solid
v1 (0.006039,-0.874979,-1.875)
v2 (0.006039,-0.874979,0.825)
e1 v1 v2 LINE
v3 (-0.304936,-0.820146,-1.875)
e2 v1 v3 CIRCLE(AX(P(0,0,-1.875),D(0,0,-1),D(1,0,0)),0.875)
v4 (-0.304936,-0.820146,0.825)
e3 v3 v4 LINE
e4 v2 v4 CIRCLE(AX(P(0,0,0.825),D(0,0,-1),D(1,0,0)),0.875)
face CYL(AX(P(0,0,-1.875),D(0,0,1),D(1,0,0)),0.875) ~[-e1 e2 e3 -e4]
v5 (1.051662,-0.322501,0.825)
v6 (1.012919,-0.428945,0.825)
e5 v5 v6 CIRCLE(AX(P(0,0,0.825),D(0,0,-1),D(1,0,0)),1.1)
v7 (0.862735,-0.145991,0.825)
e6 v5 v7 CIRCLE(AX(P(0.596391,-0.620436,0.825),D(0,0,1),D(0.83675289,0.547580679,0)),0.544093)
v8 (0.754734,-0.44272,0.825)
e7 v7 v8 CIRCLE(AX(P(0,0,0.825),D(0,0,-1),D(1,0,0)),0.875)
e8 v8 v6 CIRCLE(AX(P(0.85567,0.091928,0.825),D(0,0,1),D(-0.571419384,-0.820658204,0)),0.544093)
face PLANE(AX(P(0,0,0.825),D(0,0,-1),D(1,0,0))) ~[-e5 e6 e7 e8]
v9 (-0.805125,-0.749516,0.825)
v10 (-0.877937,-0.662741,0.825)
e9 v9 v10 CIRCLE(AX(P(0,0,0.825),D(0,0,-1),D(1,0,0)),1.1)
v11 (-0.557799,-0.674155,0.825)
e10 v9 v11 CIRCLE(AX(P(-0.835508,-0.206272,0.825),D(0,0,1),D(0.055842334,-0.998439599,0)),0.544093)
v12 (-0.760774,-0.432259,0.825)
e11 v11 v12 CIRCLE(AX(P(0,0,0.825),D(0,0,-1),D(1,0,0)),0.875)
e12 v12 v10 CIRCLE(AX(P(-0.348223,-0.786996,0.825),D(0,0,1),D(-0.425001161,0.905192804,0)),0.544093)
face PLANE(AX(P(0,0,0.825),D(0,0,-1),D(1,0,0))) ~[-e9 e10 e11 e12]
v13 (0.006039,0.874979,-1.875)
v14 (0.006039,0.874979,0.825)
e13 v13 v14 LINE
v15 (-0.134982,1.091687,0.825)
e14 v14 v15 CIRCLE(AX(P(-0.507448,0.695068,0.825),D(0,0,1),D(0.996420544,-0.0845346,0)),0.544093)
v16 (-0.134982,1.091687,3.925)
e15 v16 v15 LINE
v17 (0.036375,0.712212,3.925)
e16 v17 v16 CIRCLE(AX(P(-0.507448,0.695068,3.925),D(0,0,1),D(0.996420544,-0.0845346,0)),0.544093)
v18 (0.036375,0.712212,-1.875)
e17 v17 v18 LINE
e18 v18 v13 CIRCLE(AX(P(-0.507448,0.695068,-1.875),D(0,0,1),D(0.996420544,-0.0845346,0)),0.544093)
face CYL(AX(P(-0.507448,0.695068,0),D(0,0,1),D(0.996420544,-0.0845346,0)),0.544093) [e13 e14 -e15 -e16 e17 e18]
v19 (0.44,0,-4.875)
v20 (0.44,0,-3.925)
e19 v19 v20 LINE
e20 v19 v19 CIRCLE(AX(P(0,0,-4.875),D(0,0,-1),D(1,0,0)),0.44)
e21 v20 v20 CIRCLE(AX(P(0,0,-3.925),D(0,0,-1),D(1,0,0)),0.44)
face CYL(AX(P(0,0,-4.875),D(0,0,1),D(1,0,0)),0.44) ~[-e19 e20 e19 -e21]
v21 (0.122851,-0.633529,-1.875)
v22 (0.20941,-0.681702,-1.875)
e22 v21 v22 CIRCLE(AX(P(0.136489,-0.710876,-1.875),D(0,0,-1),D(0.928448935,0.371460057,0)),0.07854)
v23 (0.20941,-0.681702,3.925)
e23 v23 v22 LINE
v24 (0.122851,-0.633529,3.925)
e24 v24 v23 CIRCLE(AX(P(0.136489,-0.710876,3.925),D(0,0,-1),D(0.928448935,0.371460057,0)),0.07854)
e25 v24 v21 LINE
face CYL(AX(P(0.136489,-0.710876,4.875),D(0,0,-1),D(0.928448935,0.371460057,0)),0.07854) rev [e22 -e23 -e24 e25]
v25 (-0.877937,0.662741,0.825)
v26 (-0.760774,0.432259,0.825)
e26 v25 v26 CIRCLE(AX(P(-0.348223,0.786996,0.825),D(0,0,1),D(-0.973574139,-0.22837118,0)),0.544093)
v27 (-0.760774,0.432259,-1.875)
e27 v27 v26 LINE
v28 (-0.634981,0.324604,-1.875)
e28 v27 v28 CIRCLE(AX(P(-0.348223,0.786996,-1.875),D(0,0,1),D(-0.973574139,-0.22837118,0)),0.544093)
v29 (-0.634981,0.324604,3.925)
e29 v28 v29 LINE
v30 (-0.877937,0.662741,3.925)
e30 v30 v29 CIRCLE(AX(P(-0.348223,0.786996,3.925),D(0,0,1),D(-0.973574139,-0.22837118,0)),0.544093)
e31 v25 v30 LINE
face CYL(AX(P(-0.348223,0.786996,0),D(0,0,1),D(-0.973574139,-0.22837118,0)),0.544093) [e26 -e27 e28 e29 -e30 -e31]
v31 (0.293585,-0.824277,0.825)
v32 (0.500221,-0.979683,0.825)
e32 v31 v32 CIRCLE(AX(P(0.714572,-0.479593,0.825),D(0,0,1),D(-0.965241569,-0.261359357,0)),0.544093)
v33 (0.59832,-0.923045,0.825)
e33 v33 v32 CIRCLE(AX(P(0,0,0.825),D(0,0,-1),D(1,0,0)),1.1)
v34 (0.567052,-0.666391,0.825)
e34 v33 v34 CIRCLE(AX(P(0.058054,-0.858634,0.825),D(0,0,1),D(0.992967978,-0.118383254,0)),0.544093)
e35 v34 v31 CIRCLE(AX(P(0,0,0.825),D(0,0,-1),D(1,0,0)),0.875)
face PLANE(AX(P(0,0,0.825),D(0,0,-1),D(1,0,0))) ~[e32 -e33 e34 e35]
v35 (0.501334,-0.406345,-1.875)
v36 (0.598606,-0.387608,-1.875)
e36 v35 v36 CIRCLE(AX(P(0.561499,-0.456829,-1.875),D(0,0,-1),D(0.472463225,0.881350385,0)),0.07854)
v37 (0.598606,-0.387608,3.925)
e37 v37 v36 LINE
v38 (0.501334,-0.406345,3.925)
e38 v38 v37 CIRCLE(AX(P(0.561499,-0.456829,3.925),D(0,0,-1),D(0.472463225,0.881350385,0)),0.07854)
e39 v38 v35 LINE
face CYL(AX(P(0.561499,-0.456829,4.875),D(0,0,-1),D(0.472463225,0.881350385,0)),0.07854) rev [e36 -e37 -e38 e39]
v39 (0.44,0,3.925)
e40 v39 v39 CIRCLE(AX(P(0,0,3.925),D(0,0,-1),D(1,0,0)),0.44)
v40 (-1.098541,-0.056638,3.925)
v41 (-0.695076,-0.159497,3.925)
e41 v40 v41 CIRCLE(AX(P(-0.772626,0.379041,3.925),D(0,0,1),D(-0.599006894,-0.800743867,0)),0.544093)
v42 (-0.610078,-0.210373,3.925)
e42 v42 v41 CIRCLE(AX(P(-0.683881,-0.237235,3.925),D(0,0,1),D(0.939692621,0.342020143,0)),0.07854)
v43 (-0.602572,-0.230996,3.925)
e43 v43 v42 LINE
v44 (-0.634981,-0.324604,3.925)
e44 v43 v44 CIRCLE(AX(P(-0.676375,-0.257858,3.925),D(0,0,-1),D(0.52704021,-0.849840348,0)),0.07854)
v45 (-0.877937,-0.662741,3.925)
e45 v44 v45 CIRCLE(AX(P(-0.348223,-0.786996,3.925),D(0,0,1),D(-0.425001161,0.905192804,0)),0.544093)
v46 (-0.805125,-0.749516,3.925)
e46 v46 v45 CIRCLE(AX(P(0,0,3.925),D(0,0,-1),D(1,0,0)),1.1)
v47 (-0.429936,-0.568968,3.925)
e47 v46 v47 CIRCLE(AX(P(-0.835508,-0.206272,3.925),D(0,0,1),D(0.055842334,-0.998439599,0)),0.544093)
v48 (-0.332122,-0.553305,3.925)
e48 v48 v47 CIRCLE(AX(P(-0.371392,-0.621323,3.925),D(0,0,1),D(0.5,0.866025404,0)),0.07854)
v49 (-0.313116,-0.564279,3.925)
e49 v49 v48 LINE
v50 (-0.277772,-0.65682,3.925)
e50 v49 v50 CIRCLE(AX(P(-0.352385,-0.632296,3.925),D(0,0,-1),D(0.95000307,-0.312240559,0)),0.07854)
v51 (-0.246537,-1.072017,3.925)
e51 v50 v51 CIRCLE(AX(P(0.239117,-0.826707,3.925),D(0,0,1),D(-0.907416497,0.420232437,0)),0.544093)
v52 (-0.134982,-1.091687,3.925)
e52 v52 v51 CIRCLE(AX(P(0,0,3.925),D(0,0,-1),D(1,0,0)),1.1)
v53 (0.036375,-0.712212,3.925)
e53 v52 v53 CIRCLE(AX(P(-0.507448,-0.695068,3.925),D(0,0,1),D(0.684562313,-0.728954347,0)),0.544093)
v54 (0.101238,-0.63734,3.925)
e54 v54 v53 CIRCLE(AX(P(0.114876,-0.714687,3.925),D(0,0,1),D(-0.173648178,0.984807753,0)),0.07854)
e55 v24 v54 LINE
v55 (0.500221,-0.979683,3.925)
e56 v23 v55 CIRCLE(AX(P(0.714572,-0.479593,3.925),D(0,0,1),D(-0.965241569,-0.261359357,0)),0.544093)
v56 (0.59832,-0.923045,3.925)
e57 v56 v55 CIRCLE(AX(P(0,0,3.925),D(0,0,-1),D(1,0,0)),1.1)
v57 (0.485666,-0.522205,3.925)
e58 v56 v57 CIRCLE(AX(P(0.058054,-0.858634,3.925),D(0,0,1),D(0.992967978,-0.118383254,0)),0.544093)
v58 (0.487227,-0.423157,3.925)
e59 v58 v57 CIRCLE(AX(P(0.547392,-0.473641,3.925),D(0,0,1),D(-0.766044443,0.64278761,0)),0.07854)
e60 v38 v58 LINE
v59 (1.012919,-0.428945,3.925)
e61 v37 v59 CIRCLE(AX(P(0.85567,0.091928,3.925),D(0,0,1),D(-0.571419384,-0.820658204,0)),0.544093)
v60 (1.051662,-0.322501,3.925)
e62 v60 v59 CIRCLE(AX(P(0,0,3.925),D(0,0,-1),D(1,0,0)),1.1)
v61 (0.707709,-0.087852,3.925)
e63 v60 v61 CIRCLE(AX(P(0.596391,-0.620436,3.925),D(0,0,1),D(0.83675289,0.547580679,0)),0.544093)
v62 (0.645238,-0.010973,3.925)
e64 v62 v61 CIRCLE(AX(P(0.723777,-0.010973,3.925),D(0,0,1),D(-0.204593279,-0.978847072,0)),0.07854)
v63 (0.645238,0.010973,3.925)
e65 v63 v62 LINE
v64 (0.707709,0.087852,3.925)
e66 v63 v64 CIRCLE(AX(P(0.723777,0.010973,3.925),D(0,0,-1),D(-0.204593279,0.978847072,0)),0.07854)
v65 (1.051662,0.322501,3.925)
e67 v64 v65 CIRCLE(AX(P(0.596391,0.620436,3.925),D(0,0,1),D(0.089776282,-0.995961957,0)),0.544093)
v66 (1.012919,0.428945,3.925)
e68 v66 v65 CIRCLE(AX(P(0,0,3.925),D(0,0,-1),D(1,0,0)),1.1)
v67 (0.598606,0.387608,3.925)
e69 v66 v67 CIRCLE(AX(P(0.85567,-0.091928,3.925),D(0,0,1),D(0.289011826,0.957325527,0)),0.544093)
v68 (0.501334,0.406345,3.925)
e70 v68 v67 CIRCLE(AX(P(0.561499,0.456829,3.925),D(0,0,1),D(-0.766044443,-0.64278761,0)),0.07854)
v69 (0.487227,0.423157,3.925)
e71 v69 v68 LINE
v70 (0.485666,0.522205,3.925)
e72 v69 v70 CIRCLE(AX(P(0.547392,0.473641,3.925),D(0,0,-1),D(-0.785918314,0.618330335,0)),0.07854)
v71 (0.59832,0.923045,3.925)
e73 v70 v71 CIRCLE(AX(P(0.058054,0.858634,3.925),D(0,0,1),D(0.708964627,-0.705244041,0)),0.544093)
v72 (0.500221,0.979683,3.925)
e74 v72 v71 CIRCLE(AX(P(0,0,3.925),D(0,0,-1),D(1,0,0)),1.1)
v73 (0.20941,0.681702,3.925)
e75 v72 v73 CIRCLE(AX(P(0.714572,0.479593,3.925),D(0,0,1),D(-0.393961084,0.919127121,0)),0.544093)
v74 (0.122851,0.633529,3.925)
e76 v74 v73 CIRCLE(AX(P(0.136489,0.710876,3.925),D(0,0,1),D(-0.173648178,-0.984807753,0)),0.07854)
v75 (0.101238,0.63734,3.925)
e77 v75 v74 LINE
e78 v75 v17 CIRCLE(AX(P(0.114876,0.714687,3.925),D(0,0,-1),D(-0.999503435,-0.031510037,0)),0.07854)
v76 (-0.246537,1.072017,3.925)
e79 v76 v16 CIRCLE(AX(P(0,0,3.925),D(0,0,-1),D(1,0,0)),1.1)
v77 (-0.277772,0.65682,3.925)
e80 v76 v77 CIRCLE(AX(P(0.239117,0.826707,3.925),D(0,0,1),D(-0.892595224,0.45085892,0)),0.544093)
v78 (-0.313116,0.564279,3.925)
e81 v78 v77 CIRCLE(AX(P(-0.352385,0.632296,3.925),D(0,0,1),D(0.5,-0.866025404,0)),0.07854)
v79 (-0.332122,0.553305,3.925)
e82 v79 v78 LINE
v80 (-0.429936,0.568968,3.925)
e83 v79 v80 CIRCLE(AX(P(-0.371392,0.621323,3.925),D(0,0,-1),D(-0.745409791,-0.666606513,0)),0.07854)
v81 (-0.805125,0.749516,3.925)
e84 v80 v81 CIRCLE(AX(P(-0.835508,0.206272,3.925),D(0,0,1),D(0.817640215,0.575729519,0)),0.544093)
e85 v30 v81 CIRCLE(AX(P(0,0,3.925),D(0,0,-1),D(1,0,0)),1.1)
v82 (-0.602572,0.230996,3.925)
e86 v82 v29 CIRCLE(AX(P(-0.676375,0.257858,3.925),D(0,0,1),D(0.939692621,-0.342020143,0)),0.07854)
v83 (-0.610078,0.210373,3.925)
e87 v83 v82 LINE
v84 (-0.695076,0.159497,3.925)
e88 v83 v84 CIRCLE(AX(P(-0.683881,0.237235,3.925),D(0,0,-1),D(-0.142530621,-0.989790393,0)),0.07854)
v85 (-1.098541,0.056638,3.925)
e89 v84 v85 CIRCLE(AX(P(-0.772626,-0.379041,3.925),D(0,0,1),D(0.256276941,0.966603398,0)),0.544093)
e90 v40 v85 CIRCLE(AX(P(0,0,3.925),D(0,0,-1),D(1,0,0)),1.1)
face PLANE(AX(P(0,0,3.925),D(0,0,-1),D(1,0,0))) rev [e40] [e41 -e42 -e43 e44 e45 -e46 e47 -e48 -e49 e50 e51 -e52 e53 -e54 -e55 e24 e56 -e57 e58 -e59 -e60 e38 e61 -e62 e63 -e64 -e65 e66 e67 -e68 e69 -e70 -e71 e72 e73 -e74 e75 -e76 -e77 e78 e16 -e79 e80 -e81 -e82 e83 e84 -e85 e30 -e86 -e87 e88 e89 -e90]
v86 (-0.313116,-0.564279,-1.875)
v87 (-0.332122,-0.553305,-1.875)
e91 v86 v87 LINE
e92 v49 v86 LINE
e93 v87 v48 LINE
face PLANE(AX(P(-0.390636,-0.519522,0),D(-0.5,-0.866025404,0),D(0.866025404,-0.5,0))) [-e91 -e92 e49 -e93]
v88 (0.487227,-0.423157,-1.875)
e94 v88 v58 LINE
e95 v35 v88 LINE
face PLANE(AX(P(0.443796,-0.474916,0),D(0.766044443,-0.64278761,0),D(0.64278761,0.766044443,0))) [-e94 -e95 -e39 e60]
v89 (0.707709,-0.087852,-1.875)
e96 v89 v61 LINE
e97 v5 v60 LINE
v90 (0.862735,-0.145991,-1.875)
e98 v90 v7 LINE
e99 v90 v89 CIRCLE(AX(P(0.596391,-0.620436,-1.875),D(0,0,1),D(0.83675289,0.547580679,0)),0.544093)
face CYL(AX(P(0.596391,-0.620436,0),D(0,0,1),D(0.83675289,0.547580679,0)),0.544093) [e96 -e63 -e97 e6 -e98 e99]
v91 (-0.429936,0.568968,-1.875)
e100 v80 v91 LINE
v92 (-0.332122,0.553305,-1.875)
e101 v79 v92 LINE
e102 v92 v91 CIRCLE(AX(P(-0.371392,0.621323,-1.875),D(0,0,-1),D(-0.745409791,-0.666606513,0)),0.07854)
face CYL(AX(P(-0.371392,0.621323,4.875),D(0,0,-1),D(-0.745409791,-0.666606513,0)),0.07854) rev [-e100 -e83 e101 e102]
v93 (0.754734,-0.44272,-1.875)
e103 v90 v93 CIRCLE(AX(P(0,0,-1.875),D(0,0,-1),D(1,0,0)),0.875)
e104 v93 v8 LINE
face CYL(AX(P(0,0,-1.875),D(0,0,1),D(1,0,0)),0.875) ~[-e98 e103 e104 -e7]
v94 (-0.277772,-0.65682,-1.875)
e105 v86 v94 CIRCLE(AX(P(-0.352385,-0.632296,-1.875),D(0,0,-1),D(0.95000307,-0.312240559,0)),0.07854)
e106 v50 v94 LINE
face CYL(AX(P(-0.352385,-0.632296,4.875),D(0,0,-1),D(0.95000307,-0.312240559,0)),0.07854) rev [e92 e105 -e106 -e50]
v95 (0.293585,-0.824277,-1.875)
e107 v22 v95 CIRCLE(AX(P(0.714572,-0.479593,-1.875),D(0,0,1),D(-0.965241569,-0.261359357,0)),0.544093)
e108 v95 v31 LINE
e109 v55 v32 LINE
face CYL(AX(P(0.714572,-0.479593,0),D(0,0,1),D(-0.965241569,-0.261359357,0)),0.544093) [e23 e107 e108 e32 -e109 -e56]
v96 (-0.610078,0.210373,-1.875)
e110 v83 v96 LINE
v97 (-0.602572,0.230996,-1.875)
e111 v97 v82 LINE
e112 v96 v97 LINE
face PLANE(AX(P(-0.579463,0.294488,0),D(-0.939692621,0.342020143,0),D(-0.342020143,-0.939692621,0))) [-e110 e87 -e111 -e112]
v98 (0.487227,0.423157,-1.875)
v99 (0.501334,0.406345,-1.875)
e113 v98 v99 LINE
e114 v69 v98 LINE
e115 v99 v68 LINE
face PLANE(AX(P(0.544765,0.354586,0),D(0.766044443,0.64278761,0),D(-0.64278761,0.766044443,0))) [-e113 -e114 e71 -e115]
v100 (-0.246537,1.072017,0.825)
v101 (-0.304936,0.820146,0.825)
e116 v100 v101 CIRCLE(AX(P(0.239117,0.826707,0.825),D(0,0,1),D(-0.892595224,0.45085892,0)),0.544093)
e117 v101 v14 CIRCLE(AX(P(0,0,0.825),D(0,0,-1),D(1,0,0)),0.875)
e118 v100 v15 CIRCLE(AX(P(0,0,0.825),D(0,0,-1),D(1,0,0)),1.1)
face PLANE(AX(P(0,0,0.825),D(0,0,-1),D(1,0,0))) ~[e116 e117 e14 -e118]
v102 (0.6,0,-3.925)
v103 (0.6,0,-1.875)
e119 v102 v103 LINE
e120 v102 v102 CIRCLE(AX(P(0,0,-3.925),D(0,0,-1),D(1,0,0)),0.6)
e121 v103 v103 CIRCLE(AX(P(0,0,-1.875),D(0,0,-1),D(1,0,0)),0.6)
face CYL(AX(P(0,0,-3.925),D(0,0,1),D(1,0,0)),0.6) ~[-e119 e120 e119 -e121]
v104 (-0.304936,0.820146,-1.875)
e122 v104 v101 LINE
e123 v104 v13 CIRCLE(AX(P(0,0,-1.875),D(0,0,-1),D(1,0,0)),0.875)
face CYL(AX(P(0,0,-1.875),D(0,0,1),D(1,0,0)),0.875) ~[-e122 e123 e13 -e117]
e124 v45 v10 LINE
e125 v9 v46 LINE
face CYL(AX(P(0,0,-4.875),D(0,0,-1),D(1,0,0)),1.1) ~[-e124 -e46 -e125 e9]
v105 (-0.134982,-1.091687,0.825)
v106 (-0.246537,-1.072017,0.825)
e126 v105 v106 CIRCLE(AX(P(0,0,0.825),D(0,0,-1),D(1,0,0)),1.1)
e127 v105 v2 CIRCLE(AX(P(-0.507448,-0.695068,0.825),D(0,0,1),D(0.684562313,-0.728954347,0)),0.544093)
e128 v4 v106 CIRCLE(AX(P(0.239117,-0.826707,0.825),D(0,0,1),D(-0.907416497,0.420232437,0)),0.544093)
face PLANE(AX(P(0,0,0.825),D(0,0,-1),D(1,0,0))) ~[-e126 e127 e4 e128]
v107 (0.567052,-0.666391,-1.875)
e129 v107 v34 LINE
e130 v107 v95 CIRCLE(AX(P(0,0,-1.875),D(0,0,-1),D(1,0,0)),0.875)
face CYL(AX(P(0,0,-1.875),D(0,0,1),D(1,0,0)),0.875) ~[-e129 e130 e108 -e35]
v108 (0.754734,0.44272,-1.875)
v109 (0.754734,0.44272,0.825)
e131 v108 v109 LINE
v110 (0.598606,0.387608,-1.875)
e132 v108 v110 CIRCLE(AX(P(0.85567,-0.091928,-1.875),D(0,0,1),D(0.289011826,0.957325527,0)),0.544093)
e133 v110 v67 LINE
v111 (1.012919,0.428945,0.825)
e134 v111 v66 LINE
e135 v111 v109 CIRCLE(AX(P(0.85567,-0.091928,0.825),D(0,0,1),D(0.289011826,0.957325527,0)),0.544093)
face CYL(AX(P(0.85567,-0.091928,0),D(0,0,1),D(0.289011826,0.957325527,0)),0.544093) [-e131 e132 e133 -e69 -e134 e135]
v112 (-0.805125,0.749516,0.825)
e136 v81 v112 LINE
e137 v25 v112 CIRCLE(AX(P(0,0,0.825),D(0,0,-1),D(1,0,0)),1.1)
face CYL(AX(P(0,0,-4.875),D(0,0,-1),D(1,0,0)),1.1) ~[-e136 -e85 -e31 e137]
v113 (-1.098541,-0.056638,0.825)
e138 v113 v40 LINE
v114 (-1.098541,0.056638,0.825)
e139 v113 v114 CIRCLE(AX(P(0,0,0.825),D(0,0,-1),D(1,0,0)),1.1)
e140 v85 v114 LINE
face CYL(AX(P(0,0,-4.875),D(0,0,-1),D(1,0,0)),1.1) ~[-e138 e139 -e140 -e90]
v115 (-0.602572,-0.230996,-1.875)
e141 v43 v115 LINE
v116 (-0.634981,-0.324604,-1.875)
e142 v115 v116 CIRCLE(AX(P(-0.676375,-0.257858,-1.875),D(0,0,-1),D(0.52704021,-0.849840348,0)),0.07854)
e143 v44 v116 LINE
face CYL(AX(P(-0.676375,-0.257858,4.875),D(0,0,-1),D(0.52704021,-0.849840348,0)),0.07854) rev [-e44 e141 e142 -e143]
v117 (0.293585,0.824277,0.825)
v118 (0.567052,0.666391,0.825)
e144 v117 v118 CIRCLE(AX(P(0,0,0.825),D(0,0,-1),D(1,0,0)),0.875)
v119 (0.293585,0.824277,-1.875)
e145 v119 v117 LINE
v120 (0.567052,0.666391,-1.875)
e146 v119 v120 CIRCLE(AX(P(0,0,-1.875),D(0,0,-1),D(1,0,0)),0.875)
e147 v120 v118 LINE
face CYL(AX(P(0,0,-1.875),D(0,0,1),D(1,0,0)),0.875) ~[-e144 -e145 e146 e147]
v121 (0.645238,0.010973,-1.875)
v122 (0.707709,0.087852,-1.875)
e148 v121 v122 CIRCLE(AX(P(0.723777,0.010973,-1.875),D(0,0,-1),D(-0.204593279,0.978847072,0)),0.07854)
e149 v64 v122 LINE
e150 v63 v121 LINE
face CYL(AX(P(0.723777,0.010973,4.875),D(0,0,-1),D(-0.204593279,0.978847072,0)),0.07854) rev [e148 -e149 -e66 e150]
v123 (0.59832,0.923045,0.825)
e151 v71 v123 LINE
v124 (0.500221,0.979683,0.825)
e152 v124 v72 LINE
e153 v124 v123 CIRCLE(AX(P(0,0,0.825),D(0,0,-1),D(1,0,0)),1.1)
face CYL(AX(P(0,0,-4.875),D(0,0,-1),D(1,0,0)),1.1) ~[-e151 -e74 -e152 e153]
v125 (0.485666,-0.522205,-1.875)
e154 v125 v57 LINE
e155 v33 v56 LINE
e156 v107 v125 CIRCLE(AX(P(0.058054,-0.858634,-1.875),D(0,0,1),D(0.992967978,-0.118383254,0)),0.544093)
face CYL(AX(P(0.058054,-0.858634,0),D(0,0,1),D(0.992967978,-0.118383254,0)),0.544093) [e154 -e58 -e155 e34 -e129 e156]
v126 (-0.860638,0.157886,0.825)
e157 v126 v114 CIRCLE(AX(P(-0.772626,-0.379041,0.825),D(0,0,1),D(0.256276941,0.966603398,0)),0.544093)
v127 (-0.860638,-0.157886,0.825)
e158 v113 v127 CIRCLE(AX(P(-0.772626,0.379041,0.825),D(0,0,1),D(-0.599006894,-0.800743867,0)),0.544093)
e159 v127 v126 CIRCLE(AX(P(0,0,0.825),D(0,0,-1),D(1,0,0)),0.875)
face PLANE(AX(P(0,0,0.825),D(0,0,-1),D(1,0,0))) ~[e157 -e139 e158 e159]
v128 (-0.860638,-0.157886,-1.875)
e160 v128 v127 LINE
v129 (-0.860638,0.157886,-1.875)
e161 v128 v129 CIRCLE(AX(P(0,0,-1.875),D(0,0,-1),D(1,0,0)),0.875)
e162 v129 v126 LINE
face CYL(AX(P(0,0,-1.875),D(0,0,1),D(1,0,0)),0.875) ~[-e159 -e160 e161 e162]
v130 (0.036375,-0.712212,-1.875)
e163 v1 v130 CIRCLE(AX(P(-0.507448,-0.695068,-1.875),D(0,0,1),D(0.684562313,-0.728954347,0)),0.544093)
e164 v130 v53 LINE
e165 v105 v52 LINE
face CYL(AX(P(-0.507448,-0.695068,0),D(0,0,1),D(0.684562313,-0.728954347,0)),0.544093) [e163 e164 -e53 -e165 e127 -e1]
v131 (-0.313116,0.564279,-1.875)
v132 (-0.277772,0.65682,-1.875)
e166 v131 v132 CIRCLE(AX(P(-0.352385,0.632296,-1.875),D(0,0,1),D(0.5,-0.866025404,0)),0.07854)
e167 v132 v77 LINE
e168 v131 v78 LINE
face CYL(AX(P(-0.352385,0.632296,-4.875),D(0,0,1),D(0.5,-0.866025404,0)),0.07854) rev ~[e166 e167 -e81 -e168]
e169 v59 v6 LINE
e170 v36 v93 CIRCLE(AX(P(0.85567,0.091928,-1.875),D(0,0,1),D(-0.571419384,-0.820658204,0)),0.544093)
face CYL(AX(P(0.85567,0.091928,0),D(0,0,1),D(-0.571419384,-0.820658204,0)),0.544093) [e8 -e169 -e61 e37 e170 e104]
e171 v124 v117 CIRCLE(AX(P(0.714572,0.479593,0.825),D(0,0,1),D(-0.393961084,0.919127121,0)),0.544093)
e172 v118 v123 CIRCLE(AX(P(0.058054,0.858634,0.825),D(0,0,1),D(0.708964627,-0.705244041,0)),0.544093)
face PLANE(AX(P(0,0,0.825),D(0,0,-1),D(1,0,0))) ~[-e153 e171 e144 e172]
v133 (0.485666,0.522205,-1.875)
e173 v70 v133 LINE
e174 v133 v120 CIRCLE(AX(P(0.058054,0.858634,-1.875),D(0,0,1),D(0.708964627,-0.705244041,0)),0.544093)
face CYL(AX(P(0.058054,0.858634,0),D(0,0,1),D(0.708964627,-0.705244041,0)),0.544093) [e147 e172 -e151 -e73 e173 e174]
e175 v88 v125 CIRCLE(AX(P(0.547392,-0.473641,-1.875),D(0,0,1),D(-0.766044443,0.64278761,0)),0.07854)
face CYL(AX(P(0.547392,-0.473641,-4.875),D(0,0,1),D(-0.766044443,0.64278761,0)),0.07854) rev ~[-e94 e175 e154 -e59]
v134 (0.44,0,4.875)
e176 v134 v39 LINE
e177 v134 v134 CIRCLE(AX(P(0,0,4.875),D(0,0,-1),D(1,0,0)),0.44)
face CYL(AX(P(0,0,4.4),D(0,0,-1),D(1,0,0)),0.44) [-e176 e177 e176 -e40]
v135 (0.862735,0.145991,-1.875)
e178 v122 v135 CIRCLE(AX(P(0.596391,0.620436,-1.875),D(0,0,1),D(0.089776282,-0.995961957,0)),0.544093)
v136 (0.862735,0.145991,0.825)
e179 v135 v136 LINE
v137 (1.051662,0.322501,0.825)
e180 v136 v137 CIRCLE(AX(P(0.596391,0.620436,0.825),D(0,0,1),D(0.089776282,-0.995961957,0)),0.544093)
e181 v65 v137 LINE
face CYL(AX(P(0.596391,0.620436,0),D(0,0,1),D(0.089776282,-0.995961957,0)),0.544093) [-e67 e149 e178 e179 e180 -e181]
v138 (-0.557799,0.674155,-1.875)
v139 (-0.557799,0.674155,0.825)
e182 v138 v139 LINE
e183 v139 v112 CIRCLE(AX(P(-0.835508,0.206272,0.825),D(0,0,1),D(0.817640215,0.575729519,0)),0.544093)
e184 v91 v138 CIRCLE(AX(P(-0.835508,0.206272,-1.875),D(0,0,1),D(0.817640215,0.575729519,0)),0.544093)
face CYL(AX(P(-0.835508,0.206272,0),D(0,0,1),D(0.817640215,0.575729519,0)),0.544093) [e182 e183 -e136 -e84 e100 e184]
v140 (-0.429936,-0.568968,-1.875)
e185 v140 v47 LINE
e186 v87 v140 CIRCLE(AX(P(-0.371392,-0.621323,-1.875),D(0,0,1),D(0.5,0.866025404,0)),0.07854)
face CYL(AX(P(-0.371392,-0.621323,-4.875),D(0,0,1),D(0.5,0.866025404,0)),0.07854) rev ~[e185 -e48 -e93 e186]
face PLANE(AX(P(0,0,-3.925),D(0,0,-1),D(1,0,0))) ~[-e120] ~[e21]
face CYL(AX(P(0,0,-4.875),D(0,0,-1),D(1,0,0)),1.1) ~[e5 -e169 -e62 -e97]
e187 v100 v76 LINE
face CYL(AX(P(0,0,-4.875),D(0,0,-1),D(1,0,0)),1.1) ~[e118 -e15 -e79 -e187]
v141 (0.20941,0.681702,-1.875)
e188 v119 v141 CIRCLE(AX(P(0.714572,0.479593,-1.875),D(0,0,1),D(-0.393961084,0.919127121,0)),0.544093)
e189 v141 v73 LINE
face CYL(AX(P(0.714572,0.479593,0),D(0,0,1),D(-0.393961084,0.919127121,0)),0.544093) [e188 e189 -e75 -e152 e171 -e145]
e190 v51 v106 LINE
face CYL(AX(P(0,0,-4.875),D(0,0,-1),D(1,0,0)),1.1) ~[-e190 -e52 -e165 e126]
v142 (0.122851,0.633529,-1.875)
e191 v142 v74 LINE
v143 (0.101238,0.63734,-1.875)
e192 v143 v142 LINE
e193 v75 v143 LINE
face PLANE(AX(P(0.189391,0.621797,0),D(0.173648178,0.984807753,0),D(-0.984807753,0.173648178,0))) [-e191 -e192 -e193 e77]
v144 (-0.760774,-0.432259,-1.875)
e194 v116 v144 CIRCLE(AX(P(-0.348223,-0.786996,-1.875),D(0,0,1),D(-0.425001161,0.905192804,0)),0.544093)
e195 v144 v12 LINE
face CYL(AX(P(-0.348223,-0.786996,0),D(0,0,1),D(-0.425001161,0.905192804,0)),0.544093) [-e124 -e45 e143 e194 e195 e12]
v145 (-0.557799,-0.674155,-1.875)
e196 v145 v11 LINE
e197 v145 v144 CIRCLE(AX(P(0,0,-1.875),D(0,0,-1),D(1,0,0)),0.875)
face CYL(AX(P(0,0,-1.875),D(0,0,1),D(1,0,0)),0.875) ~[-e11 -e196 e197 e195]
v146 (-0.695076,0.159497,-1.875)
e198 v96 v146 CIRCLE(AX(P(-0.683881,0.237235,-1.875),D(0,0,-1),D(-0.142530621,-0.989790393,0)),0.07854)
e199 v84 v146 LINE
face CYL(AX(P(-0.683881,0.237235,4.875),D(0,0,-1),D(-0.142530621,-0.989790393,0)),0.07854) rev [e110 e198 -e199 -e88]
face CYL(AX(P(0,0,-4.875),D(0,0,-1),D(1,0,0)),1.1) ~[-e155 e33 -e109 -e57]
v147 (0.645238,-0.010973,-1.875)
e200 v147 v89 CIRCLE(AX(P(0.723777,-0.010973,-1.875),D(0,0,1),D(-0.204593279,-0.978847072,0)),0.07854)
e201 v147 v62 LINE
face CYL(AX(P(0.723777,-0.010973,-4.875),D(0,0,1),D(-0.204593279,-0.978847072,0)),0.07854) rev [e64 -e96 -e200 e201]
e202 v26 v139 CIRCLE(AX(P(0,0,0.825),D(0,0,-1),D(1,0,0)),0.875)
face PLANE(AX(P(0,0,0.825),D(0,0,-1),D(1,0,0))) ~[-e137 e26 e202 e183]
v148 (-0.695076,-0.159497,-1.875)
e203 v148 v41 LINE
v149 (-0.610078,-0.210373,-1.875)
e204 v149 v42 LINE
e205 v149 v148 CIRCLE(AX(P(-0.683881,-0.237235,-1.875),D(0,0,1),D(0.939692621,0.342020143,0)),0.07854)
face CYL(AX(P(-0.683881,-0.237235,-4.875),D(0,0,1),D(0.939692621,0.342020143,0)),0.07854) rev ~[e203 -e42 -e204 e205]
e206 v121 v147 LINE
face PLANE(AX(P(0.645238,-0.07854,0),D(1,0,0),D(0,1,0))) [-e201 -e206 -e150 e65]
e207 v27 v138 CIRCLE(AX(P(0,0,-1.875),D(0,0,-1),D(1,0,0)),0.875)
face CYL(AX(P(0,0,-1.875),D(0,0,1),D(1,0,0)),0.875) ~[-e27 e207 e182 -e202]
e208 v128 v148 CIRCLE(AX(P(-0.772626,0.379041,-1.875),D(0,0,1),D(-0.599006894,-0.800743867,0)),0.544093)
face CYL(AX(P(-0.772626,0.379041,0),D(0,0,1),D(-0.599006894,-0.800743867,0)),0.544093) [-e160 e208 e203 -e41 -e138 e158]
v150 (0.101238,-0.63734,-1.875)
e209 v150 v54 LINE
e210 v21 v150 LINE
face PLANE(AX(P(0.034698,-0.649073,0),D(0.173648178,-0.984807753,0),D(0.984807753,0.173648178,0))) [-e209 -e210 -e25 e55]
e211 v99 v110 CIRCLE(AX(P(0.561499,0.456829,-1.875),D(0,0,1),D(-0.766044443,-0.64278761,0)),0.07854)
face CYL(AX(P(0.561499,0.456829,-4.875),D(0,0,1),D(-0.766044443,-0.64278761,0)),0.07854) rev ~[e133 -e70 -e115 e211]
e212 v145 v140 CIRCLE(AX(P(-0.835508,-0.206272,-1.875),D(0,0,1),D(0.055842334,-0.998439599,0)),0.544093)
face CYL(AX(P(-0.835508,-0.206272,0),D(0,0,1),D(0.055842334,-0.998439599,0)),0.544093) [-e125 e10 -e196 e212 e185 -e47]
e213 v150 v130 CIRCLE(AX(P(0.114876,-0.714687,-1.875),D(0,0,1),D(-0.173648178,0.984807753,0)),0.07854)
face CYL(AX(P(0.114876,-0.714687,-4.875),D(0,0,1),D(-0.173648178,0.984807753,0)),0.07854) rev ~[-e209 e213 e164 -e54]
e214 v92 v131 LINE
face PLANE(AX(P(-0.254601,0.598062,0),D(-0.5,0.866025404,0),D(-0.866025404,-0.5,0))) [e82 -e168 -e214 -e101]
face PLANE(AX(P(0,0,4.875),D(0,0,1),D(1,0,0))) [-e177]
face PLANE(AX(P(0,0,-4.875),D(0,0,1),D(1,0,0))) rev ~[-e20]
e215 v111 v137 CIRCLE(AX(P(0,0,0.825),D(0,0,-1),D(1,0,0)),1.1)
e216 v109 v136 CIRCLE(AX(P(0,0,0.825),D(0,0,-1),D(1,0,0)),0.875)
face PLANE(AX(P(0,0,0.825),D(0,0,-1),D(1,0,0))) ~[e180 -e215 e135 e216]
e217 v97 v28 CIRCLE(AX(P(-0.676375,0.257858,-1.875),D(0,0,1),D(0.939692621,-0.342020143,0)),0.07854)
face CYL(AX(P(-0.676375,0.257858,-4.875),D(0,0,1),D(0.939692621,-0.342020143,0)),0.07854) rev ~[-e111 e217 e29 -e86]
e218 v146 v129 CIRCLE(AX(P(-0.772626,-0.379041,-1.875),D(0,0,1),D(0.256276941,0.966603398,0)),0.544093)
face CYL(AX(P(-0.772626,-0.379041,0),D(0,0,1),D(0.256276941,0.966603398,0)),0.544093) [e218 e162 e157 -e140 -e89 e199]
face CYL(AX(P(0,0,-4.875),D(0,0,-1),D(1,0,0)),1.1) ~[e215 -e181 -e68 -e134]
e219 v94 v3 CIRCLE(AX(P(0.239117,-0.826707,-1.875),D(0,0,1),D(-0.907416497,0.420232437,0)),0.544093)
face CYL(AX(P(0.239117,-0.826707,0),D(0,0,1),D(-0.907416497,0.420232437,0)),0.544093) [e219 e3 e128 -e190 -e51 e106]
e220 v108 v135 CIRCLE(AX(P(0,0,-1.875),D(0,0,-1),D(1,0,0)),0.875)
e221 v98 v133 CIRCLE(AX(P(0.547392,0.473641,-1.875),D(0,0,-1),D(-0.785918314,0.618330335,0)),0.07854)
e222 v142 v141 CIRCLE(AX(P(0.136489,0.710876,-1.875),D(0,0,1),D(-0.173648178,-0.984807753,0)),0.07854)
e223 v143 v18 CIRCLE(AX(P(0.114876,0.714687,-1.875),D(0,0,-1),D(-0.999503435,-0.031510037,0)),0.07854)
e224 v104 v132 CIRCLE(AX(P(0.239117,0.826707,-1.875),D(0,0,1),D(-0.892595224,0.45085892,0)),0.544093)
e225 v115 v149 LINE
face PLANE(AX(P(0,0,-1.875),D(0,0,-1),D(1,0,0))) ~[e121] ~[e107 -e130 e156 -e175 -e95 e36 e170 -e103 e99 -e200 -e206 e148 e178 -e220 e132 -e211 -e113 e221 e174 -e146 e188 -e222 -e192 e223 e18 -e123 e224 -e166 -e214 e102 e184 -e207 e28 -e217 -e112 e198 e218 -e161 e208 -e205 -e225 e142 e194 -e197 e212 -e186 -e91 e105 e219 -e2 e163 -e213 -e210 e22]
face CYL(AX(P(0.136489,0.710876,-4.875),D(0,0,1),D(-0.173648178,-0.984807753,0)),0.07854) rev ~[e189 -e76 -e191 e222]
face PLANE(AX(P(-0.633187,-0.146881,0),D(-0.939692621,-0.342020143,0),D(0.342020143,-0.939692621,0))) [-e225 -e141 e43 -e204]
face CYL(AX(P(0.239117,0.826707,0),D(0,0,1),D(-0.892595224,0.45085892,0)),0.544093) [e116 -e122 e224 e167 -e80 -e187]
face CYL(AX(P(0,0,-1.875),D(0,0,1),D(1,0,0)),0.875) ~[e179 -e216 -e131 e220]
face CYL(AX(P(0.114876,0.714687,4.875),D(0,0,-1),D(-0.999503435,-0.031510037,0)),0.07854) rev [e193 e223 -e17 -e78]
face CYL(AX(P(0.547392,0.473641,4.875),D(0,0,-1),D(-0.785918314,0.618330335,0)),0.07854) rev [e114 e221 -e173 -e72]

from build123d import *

# Parameters (mm, degrees)
BOSS_EXTRUDE1_DEPTH      = 4.875
BOSS_EXTRUDE1_DEPTH_BACK = 4.875
SKETCH3_R                = 1.1
CUT_EXTRUDE1_DEPTH       = 6.11718917
FILLET1_R                = 0.078539816
CIRPATTERN1_COUNT        = 9
FILLET1_OF_CIRPATTERN1_R = 0.078539816
SKETCH5_W                = 0.95
SKETCH5_H                = 0.86


with BuildPart() as part:
    # Sketch3 → Boss-Extrude1 (new, two sides: drawn at the far end of the back side and taken through both)
    with BuildSketch(Plane.XY.offset(-BOSS_EXTRUDE1_DEPTH_BACK)):
        Circle(SKETCH3_R)
    extrude(amount=BOSS_EXTRUDE1_DEPTH + BOSS_EXTRUDE1_DEPTH_BACK)

    # Sketch4 → Cut-Extrude1 (cut, symmetric)
    with BuildSketch(Plane.XY):
        with BuildLine():
            Line((0.645237551, -0.078539816), (0.645237551, 0.078539816))
            ThreePointArc((0.645237551, 0.078539816), (0.876414028, 0.153933636), (1.051662121, 0.322500826))
            ThreePointArc((1.051662121, 0.322500826), (1.1, 0), (1.051662121, -0.322500826))
            ThreePointArc((1.051662121, -0.322500826), (0.876414028, -0.153933636), (0.645237551, -0.078539816))
        make_face()
    cut_extrude1 = extrude(amount=CUT_EXTRUDE1_DEPTH, both=True, mode=Mode.SUBTRACT)

    # Fillet1
    fillet1_edges = [part.edges().sort_by_distance(p)[0] for p in [
        (0.645237551, 0.078539816, 0),
        (0.645237551, -0.078539816, 0),
    ]]
    fillet(fillet1_edges, radius=FILLET1_R)

    # CirPattern1: Cut-Extrude1 ×9 about axis
    cirpattern1_axis = Axis((0, 0, 0), (0, 0, 1))
    for i in range(1, CIRPATTERN1_COUNT):
        add(cut_extrude1.rotate(cirpattern1_axis, i * 360 / CIRPATTERN1_COUNT), mode=Mode.SUBTRACT)

    # Fillet1 of CirPattern1
    fillet1_of_cirpattern1_edges = [part.edges().sort_by_distance(p)[0] for p in [
        (0.44379622, 0.474915693, 0),
        (0.544765061, 0.354585713, 0),
        (0.034697705, 0.649073239, 0),
        (0.189390945, 0.621796647, 0),
        (-0.390636252, 0.519522202, 0),
        (-0.254601299, 0.598062019, 0),
        (-0.633187165, 0.146880954, 0),
        (-0.579462766, 0.294487526, 0),
        (-0.579462766, -0.294487526, 0),
        (-0.633187165, -0.146880954, 0),
        (-0.254601299, -0.598062019, 0),
        (-0.390636252, -0.519522202, 0),
        (0.189390945, -0.621796647, 0),
        (0.034697705, -0.649073239, 0),
        (0.544765061, -0.354585713, 0),
        (0.44379622, -0.474915693, 0),
    ]]
    fillet(fillet1_of_cirpattern1_edges, radius=FILLET1_OF_CIRPATTERN1_R)

    # Sketch5 → Cut-Revolve1 (revolve, cut)
    with BuildSketch(Plane(origin=(0, 0, 0), x_dir=(0, 0, -1), z_dir=(1, 0, 0)), mode=Mode.PRIVATE) as cut_revolve1_sk:
        Polygon((4.875, 1.3), (4.875, 0.44), (3.925, 0.44), (3.925, 0.6), (1.875, 0.6), (1.875, 0.875), (-0.825, 0.875), (-0.825, 1.3), align=None)
        with Locations((-4.4, 0.87)):
            Rectangle(SKETCH5_W, SKETCH5_H)
    revolve(cut_revolve1_sk.sketch.rotate(Axis((0, 0, 4.875), (0, 0, -1)), 90), axis=Axis((0, 0, 4.875), (0, 0, -1)), mode=Mode.SUBTRACT)


solid = part.part
